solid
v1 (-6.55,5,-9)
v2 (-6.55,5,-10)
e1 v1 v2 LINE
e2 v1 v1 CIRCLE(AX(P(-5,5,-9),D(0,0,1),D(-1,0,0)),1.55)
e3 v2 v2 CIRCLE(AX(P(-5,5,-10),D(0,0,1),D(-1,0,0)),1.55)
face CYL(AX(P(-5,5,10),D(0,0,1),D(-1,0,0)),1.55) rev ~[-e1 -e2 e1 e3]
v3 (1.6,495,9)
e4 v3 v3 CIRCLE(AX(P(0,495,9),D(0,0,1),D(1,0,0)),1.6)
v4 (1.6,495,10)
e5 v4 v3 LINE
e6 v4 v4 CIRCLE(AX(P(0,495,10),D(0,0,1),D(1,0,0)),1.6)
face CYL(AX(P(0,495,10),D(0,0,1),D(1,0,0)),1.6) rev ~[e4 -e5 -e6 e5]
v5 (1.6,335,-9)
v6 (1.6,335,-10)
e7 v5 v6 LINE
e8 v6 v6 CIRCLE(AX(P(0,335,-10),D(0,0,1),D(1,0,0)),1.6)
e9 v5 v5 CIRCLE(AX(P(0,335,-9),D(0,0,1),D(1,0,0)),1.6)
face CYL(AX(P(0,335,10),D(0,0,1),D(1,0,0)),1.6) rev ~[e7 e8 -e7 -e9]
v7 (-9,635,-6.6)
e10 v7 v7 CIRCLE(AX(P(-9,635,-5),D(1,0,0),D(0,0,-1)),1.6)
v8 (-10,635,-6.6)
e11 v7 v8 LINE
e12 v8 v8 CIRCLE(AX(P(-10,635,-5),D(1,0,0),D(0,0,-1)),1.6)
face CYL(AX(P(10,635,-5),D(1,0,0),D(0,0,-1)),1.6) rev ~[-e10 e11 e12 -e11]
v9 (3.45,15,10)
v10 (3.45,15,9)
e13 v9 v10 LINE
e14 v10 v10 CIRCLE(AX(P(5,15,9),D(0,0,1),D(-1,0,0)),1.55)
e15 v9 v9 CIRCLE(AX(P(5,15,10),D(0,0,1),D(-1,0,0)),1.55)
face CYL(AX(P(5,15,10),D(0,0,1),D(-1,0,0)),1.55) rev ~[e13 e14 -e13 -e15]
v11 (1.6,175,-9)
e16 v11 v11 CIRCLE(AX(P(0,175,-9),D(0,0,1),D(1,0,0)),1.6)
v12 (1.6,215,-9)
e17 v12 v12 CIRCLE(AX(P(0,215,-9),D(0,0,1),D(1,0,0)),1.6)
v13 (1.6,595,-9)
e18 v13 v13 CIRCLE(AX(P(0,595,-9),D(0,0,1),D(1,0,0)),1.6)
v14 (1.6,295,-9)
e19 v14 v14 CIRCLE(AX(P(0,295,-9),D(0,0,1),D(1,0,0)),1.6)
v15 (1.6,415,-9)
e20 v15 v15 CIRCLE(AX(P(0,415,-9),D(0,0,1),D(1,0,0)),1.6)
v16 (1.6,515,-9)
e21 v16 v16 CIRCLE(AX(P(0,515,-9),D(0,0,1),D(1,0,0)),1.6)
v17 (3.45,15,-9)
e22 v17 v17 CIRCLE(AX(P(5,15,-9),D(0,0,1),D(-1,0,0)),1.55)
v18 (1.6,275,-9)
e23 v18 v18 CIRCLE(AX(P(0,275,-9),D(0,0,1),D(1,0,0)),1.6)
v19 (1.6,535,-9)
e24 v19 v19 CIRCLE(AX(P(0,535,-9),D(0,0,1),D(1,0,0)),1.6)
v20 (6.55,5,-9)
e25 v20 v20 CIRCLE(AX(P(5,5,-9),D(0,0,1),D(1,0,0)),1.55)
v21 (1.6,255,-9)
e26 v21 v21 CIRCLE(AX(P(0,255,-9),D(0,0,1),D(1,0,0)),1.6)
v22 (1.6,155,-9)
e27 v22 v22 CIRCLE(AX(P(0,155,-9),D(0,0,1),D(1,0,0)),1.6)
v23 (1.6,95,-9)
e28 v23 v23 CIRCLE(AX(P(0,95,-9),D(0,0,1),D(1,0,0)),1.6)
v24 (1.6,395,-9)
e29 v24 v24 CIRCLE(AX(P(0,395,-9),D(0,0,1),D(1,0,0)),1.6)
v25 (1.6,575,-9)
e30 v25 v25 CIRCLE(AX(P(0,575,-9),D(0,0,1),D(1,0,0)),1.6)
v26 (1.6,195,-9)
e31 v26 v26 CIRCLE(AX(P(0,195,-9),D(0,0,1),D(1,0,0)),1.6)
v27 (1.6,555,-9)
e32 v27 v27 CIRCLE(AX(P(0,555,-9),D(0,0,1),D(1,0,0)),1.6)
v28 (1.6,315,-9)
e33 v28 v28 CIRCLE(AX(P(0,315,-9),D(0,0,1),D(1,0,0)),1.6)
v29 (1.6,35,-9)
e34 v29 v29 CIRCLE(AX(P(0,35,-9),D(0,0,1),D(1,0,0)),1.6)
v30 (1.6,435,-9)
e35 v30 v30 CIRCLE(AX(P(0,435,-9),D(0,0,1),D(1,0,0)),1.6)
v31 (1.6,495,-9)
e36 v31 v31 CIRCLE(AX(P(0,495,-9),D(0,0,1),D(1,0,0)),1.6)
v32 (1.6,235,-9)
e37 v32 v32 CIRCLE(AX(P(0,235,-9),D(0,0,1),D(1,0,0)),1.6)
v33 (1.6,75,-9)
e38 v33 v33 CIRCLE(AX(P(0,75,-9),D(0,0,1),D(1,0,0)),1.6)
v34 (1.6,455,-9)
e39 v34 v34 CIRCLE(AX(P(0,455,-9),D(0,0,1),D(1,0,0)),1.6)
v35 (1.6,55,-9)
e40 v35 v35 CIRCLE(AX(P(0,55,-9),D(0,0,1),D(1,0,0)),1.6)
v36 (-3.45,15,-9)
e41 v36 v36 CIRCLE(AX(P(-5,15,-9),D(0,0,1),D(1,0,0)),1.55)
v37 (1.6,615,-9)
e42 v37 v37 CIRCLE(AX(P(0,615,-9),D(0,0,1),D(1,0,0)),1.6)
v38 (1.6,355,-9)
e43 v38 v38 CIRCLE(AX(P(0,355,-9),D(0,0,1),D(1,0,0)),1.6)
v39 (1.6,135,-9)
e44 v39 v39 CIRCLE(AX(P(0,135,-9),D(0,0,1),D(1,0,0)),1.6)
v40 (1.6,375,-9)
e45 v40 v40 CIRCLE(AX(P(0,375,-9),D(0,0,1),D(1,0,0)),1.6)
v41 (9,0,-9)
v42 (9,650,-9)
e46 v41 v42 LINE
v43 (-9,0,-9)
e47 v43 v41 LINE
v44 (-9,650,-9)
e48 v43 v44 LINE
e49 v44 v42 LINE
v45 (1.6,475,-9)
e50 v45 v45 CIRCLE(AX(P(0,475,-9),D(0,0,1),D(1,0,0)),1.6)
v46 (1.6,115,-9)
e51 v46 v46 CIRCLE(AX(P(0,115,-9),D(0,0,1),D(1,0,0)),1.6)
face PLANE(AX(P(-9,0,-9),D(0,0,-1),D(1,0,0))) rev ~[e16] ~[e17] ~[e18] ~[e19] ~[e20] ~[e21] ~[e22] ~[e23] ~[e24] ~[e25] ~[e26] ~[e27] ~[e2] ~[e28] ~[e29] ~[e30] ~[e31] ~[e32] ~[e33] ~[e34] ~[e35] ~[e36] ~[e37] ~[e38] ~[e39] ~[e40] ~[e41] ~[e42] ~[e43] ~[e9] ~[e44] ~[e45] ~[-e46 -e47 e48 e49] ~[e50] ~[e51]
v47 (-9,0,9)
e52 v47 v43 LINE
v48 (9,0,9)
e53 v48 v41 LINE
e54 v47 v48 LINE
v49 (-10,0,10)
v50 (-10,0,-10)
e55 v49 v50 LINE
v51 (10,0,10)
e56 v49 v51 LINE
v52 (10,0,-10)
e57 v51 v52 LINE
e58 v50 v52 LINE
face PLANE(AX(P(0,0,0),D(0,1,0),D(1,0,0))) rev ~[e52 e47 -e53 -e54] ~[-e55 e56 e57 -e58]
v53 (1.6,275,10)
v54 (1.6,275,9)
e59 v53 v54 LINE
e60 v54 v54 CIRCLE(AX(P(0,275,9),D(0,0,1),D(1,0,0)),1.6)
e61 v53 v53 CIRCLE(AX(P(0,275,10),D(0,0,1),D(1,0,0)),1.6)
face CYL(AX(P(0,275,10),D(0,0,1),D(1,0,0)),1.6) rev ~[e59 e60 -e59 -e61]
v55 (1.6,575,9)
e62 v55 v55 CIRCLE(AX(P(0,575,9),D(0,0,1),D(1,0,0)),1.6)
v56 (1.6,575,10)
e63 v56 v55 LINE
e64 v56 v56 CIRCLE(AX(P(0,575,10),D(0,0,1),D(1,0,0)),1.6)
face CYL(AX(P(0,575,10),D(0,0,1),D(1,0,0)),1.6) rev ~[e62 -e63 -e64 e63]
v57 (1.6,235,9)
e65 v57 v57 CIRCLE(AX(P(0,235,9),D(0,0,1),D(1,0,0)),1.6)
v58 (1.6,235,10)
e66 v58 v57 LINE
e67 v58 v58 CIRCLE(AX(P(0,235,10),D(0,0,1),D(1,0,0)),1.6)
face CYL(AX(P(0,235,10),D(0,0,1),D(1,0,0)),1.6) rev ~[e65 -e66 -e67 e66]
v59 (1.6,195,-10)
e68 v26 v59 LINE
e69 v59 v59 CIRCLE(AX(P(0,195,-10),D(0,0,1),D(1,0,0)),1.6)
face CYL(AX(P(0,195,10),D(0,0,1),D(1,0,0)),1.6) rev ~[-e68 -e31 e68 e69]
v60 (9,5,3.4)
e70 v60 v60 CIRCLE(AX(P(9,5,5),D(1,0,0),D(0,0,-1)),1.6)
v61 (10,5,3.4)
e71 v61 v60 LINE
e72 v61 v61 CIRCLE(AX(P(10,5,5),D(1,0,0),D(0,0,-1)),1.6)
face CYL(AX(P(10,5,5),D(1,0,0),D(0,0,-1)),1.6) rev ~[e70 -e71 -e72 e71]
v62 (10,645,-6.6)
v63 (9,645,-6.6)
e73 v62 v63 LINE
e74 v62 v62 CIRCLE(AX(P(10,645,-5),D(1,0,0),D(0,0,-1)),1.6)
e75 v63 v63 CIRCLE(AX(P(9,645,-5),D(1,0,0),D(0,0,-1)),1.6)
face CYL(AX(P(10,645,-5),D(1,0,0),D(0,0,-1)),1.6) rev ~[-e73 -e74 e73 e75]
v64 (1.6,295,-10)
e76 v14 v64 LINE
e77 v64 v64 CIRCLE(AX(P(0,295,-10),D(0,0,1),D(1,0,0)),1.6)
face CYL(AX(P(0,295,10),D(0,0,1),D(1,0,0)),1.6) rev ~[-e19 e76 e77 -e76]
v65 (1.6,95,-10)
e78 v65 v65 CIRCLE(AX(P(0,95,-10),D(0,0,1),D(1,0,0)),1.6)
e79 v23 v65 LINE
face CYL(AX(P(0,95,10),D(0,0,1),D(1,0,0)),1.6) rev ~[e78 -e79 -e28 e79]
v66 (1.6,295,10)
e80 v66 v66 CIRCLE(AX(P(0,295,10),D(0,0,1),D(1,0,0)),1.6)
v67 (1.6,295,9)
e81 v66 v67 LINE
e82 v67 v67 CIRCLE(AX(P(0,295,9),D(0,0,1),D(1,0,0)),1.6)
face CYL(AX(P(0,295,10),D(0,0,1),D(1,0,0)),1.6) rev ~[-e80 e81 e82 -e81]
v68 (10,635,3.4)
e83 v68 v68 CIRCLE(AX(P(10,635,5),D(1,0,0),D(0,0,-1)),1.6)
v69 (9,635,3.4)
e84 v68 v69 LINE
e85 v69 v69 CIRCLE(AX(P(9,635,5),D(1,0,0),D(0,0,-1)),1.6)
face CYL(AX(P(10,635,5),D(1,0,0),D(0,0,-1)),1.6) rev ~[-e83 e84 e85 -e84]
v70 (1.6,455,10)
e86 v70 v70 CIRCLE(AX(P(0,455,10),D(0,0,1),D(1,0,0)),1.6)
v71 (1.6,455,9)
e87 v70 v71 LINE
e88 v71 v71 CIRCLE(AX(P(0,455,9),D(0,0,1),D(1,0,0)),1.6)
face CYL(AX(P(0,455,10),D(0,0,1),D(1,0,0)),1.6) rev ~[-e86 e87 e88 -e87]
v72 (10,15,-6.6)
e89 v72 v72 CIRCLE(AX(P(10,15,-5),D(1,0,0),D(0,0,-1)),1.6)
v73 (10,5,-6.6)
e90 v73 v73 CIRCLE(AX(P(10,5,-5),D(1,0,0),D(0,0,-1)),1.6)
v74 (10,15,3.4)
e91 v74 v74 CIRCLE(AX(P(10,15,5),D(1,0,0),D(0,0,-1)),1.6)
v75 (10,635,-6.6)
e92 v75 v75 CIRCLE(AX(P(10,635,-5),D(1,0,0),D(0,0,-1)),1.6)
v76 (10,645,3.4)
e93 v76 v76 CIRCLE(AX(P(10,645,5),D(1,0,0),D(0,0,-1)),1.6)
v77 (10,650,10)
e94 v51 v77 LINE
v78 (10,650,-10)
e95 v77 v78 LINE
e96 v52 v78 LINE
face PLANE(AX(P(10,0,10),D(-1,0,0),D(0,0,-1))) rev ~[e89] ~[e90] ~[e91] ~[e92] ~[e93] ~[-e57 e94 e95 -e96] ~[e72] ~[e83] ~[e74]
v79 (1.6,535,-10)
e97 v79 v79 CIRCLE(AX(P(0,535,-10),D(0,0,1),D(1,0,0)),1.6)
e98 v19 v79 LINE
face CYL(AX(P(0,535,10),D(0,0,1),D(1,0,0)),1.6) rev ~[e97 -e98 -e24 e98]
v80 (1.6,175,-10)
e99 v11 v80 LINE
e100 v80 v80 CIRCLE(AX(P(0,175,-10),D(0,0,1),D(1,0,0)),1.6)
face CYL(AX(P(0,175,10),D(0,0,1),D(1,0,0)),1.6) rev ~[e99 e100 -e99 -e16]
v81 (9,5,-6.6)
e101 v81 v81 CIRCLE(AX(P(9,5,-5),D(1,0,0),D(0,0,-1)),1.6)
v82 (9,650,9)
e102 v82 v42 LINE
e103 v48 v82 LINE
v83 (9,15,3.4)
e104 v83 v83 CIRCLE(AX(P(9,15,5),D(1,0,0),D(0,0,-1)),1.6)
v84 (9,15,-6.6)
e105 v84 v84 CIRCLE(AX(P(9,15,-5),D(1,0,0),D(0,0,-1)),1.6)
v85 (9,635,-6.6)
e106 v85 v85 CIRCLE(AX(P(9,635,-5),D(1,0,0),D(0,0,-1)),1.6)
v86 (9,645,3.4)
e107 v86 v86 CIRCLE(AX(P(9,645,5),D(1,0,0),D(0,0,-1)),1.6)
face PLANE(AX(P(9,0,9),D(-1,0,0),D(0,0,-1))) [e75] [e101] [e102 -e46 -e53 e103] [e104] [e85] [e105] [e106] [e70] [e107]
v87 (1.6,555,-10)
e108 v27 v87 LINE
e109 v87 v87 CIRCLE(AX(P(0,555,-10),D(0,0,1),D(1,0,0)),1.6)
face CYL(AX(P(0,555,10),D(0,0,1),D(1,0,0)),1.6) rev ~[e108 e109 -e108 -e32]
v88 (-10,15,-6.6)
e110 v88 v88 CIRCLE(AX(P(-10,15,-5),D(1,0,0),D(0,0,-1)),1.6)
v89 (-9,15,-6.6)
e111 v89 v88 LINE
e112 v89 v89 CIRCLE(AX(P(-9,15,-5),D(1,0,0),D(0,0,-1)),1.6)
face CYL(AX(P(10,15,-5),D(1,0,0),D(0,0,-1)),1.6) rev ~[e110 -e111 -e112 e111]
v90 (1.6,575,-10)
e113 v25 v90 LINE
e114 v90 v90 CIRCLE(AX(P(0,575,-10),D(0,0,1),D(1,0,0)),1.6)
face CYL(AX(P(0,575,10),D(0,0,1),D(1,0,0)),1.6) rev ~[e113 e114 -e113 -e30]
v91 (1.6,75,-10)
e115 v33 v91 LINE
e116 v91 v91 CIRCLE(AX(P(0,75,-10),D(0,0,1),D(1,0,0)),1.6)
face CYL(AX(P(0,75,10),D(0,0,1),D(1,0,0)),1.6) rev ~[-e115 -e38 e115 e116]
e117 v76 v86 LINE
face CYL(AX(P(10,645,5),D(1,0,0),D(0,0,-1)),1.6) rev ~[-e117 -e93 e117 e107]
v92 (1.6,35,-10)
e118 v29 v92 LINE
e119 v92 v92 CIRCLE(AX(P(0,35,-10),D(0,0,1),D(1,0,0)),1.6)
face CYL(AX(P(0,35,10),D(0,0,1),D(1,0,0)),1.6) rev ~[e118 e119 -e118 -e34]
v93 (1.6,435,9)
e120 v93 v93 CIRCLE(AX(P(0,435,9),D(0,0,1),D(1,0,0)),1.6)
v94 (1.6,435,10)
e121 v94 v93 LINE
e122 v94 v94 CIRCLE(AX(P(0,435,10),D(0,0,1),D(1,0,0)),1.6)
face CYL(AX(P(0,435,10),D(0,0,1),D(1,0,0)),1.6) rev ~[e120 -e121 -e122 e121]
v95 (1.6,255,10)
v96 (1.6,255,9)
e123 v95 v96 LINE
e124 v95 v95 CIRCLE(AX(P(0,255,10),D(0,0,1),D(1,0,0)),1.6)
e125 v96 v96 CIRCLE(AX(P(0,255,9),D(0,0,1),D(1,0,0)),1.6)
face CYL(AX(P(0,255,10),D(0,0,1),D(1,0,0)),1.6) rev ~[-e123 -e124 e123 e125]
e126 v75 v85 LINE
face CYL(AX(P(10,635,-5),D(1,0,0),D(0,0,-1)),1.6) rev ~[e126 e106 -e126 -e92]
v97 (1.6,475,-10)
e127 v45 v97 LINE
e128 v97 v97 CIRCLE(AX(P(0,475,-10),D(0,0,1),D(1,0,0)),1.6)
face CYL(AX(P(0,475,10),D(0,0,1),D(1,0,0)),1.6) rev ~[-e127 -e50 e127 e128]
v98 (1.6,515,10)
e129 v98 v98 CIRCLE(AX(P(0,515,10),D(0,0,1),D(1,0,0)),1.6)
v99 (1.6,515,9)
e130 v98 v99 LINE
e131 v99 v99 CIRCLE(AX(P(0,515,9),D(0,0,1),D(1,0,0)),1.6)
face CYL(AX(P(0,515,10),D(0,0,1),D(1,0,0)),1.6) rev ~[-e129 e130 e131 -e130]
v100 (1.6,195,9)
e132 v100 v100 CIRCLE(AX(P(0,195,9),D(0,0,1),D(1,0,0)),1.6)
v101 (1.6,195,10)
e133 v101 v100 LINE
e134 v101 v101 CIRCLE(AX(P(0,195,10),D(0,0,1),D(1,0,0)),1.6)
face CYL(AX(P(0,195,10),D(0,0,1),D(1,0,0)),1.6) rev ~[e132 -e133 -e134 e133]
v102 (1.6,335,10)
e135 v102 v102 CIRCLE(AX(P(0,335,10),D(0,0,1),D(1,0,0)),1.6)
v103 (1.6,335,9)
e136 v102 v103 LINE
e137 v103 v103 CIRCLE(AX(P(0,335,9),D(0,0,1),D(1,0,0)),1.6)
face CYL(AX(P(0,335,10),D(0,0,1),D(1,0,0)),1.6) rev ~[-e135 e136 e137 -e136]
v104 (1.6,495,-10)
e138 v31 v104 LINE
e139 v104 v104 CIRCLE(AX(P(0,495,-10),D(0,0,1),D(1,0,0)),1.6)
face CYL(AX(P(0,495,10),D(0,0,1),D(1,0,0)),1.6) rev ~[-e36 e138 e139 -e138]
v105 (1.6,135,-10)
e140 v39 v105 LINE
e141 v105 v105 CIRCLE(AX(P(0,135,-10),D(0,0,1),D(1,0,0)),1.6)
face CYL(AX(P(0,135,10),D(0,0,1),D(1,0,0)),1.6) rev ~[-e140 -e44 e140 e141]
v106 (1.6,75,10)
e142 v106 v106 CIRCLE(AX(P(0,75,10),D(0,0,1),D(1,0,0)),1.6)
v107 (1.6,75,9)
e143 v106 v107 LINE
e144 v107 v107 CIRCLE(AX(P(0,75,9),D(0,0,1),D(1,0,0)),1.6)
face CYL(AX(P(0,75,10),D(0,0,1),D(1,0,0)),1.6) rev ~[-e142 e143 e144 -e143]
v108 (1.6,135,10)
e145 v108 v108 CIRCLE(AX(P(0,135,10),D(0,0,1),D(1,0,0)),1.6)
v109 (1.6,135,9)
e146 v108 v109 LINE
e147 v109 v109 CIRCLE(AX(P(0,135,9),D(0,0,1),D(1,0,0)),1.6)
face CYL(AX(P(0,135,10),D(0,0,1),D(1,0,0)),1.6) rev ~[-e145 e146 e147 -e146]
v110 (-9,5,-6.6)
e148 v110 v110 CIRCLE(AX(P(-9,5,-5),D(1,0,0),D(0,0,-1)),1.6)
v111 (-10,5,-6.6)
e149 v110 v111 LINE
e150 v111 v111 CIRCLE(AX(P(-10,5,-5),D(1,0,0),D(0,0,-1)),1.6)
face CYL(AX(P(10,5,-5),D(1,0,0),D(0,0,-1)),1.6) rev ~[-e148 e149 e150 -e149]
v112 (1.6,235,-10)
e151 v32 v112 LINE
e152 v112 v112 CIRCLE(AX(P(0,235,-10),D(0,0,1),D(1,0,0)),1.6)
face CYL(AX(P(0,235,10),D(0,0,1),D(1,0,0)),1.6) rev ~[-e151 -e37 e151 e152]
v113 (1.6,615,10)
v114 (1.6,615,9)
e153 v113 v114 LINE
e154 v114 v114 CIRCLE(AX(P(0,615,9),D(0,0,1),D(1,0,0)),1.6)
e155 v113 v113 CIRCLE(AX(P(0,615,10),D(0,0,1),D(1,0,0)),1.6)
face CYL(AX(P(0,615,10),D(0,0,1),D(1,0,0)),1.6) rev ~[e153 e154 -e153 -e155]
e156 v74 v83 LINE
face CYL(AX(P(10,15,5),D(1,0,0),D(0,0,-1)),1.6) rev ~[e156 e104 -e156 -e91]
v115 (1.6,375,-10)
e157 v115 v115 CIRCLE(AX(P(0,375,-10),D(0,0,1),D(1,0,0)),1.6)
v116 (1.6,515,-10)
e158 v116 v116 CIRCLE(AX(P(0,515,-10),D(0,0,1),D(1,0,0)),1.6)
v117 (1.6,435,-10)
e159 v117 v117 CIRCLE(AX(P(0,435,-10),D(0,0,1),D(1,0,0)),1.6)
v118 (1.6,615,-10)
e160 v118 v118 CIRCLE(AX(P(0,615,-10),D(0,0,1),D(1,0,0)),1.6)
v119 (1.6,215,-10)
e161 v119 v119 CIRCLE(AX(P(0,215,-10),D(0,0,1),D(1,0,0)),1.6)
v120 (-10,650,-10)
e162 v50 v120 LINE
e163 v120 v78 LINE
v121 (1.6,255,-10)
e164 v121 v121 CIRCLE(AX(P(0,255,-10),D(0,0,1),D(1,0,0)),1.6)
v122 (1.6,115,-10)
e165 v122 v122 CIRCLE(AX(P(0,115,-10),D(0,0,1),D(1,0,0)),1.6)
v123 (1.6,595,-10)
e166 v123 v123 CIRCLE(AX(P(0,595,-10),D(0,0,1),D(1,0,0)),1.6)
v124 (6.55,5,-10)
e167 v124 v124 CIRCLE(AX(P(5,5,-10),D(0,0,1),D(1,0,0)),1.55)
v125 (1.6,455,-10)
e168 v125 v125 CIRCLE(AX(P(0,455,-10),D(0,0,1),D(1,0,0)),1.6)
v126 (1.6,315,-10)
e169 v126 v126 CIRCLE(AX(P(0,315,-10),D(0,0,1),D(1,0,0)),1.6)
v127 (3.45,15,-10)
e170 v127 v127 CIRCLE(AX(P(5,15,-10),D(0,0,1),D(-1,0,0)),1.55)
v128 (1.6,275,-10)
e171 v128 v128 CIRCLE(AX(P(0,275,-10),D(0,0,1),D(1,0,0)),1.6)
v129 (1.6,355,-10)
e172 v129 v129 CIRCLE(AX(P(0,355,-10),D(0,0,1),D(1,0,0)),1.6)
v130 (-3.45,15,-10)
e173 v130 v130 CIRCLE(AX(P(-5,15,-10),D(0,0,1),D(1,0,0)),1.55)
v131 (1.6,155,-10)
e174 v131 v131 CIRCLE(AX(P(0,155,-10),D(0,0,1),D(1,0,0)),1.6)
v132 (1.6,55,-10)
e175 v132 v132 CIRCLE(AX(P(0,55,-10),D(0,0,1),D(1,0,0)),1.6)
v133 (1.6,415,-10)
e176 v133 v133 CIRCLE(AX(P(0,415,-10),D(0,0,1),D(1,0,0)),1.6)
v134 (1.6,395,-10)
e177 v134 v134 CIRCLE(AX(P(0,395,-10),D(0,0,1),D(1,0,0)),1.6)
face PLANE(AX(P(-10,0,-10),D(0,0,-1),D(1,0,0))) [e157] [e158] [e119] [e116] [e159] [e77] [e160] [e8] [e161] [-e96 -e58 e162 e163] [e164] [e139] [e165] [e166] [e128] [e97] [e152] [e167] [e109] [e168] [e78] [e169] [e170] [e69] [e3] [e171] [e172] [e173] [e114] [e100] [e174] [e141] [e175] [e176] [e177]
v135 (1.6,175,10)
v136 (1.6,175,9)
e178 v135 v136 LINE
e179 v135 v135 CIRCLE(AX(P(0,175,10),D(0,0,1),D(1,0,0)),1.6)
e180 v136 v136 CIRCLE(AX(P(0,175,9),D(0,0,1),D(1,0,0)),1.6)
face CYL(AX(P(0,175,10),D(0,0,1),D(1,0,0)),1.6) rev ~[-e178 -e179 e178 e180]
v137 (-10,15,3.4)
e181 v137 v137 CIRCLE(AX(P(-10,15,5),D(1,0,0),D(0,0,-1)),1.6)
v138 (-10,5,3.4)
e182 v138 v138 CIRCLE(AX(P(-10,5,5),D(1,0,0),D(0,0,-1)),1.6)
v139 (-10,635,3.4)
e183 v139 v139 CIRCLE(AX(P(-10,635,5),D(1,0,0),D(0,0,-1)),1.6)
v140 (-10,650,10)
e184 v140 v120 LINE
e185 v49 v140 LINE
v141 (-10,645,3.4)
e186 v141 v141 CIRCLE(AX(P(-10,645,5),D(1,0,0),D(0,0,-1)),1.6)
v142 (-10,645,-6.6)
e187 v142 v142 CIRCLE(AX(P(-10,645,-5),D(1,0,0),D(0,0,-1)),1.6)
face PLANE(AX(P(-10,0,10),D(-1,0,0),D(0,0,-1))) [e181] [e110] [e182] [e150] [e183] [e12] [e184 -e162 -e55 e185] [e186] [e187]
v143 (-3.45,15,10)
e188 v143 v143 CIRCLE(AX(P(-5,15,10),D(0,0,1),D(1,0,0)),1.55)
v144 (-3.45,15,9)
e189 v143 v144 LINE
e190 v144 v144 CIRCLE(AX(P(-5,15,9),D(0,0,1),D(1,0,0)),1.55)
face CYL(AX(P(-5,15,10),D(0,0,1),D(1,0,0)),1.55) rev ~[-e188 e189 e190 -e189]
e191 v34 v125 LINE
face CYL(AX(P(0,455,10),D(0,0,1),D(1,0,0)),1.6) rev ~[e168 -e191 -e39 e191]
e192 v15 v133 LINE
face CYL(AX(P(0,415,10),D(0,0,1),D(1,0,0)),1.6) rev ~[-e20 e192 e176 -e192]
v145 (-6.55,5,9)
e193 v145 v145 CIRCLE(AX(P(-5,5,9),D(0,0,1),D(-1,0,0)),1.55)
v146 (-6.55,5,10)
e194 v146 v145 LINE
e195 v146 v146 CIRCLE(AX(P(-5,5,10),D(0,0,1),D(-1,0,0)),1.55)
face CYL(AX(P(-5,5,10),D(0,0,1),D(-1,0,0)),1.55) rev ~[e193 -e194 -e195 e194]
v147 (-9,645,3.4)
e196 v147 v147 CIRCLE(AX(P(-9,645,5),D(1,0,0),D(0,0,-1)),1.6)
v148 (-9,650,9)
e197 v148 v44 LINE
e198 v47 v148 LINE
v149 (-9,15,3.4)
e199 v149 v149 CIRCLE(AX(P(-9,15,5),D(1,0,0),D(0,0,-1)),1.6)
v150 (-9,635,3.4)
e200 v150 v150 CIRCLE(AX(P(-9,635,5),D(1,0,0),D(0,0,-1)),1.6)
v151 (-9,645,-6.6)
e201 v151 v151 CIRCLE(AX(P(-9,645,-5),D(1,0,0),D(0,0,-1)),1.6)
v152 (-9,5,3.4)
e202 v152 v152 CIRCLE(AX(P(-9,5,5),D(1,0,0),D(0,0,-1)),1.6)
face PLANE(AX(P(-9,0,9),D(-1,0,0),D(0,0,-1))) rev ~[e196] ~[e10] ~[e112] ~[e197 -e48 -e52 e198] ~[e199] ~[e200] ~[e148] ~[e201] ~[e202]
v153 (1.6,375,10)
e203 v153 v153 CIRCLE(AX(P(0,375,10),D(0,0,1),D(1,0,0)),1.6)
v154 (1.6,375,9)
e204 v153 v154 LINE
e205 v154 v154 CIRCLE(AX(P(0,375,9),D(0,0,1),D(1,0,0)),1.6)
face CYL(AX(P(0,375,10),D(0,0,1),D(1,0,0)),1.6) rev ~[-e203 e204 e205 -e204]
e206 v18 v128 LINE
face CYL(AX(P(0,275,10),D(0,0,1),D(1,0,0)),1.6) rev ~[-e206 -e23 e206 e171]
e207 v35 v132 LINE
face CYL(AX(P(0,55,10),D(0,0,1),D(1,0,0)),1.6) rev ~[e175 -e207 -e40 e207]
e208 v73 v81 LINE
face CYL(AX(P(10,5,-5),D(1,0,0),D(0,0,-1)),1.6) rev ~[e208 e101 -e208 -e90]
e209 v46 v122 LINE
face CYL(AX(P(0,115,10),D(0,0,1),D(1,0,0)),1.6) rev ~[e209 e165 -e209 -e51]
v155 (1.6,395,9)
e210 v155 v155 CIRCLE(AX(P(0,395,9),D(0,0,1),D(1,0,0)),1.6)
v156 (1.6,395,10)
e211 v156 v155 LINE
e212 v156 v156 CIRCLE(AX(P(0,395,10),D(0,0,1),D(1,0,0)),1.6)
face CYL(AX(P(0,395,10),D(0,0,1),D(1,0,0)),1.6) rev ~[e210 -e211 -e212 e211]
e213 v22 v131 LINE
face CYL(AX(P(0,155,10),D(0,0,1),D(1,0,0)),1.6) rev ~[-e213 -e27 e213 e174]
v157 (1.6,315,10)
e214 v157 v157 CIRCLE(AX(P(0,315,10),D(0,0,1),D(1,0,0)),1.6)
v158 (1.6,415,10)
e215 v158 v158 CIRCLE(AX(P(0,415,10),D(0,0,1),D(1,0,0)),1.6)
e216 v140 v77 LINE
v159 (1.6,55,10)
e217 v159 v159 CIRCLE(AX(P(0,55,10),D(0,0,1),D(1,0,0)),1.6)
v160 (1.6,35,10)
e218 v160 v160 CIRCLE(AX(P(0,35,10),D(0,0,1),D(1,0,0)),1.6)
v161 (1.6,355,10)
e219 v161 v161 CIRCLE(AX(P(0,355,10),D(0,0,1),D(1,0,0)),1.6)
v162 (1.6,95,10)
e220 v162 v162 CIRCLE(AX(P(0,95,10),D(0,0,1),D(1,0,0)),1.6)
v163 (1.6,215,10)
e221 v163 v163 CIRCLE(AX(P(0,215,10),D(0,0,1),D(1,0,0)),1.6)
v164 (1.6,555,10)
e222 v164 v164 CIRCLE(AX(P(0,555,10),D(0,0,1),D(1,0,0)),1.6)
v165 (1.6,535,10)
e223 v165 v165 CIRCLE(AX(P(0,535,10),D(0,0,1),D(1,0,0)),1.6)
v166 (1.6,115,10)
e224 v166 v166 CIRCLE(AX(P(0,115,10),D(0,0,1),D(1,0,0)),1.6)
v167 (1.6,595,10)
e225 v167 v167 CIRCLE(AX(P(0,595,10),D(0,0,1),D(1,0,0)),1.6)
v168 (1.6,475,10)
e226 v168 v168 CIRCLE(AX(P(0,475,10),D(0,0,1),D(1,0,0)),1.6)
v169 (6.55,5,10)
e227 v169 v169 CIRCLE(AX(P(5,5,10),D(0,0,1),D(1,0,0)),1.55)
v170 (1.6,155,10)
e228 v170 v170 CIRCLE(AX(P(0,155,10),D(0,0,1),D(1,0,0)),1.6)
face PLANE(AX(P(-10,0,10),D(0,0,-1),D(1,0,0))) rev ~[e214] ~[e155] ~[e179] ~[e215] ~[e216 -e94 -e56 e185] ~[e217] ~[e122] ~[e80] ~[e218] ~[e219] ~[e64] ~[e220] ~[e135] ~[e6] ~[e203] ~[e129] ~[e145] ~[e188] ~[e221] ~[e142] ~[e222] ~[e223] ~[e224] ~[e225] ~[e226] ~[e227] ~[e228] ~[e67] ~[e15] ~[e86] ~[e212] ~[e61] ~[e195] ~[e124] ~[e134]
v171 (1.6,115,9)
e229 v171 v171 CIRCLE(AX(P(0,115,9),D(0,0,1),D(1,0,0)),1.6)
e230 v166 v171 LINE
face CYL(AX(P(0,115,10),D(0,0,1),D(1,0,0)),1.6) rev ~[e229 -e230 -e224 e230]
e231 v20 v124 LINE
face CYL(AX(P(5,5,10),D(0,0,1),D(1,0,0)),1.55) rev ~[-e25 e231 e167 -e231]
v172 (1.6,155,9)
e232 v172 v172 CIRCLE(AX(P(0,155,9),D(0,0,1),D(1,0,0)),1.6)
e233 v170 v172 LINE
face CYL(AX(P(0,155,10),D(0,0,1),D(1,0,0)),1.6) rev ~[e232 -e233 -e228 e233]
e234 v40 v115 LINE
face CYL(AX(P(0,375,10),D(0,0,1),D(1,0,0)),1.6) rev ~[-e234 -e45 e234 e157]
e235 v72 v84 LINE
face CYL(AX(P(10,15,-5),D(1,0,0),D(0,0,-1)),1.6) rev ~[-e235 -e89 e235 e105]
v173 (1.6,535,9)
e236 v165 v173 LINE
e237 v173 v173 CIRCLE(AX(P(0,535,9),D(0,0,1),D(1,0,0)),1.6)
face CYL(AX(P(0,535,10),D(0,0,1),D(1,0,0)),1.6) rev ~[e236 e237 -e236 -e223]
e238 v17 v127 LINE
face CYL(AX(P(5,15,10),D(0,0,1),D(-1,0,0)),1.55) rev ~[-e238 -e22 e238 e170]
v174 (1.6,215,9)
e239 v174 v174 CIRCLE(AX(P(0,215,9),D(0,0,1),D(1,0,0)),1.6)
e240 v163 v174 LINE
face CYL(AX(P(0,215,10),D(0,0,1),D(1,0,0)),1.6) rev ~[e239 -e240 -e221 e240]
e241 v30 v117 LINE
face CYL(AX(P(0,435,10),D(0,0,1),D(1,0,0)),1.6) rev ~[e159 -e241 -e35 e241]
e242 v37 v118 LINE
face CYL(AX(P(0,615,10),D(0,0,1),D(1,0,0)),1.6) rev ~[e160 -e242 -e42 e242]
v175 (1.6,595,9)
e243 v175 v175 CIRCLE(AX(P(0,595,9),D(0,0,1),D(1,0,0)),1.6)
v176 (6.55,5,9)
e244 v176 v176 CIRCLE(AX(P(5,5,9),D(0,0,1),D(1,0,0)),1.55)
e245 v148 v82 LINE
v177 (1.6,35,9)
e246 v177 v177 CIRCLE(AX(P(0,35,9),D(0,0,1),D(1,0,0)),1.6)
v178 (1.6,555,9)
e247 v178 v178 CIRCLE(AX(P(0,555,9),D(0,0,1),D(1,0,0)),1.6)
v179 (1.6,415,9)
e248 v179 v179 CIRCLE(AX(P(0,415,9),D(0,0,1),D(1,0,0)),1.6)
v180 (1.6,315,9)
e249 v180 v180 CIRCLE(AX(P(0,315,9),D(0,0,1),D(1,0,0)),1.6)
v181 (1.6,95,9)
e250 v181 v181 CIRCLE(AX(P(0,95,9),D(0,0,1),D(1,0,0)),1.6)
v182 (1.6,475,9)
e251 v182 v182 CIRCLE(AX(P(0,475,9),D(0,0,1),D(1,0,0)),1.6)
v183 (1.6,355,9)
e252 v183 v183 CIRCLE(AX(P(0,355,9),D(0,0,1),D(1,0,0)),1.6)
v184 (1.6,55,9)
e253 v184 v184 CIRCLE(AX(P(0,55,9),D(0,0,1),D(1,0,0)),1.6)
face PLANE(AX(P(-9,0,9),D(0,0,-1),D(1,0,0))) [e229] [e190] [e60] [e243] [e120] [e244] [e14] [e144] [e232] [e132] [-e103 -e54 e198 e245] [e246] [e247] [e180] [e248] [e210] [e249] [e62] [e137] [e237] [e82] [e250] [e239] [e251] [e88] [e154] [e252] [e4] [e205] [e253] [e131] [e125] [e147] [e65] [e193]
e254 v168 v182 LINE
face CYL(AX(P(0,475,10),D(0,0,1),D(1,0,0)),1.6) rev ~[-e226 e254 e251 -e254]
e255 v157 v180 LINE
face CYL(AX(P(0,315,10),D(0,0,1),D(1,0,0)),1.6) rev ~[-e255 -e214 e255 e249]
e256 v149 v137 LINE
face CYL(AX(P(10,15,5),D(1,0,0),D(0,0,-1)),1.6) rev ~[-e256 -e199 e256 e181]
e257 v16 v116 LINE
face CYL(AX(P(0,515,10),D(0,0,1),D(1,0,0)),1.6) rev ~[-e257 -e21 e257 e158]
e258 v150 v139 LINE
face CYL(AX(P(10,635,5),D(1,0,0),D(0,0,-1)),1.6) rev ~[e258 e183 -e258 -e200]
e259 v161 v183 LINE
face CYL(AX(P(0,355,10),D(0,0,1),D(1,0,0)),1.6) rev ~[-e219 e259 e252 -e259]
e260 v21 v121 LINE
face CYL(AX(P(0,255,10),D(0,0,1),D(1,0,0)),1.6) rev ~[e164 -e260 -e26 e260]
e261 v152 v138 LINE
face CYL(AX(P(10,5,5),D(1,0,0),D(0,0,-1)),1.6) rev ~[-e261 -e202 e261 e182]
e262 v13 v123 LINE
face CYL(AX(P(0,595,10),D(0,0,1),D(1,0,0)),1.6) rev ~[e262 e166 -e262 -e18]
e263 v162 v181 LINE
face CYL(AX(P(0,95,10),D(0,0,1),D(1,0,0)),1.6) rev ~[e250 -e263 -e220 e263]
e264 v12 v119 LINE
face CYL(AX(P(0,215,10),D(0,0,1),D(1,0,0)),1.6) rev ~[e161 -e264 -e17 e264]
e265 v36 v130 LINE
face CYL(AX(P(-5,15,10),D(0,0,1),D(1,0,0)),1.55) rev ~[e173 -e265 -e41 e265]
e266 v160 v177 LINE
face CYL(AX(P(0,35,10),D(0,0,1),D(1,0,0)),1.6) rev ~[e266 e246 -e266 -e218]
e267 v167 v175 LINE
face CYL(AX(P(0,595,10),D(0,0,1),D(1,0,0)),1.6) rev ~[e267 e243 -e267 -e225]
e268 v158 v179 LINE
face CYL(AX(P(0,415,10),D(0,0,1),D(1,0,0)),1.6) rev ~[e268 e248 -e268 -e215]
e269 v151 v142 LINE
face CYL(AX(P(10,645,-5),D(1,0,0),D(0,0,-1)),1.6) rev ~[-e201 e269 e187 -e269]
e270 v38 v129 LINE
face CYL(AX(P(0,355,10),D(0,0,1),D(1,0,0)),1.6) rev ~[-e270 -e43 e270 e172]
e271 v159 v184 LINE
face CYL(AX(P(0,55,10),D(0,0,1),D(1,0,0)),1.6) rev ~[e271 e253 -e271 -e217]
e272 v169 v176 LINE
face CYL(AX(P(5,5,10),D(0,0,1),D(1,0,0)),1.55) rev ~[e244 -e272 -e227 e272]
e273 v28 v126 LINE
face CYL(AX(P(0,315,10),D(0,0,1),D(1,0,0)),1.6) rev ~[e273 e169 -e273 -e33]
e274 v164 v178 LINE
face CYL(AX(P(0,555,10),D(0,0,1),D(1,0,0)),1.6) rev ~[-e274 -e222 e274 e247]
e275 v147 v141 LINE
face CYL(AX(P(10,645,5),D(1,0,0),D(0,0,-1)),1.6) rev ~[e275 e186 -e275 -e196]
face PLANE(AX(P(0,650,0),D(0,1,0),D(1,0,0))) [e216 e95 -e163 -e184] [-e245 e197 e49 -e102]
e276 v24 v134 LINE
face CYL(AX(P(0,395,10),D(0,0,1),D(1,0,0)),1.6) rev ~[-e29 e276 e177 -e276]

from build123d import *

# Parameters (mm, degrees)
SKETCH_1_W          = 20
SKETCH_1_H          = 20
SKETCH_1_W_2        = 18
SKETCH_1_H_2        = 18
EXTRUDE_1_DEPTH     = 650
SKETCH_3_R          = 1.6
CUT_EXTRUDE_1_DEPTH = 651.38450166
SKETCH_4_R          = 1.6
CUT_EXTRUDE_2_DEPTH = 651.38450166
SKETCH_5_R          = 1.55
CUT_EXTRUDE_3_DEPTH = 651.38450166


with BuildPart() as part:
    # 草图1 → 拉伸-薄壁1 (new body)
    with BuildSketch(Plane(origin=(0, 0, 0), x_dir=(1, 0, 0), z_dir=(0, 1, 0))):
        Rectangle(SKETCH_1_W, SKETCH_1_H)
        Rectangle(SKETCH_1_W_2, SKETCH_1_H_2, mode=Mode.SUBTRACT)
    extrude(amount=EXTRUDE_1_DEPTH)

    # 草图3 → 切除-拉伸1 (cut, through all)
    with BuildSketch(Plane(origin=(10, 0, 0), x_dir=(0, 0, -1), z_dir=(1, 0, 0))):
        with Locations((-5, 15)):
            Circle(SKETCH_3_R)
        with Locations((-5, 5)):
            Circle(SKETCH_3_R)
        with Locations((5, 5)):
            Circle(SKETCH_3_R)
        with Locations((5, 15)):
            Circle(SKETCH_3_R)
        with Locations((5, 635)):
            Circle(SKETCH_3_R)
        with Locations((5, 645)):
            Circle(SKETCH_3_R)
        with Locations((-5, 645)):
            Circle(SKETCH_3_R)
        with Locations((-5, 635)):
            Circle(SKETCH_3_R)
    extrude(amount=-CUT_EXTRUDE_1_DEPTH, mode=Mode.SUBTRACT)

    # 草图4 → 切除-拉伸2 (cut, through all)
    with BuildSketch(Plane.XY.offset(10)):
        with Locations((0, 35)):
            Circle(SKETCH_4_R)
        with Locations((0, 55)):
            Circle(SKETCH_4_R)
        with Locations((0, 75)):
            Circle(SKETCH_4_R)
        with Locations((0, 95)):
            Circle(SKETCH_4_R)
        with Locations((0, 115)):
            Circle(SKETCH_4_R)
        with Locations((0, 135)):
            Circle(SKETCH_4_R)
        with Locations((0, 155)):
            Circle(SKETCH_4_R)
        with Locations((0, 175)):
            Circle(SKETCH_4_R)
        with Locations((0, 195)):
            Circle(SKETCH_4_R)
        with Locations((0, 215)):
            Circle(SKETCH_4_R)
        with Locations((0, 235)):
            Circle(SKETCH_4_R)
        with Locations((0, 255)):
            Circle(SKETCH_4_R)
        with Locations((0, 275)):
            Circle(SKETCH_4_R)
        with Locations((0, 295)):
            Circle(SKETCH_4_R)
        with Locations((0, 315)):
            Circle(SKETCH_4_R)
        with Locations((0, 335)):
            Circle(SKETCH_4_R)
        with Locations((0, 355)):
            Circle(SKETCH_4_R)
        with Locations((0, 375)):
            Circle(SKETCH_4_R)
        with Locations((0, 395)):
            Circle(SKETCH_4_R)
        with Locations((0, 415)):
            Circle(SKETCH_4_R)
        with Locations((0, 435)):
            Circle(SKETCH_4_R)
        with Locations((0, 455)):
            Circle(SKETCH_4_R)
        with Locations((0, 475)):
            Circle(SKETCH_4_R)
        with Locations((0, 495)):
            Circle(SKETCH_4_R)
        with Locations((0, 515)):
            Circle(SKETCH_4_R)
        with Locations((0, 535)):
            Circle(SKETCH_4_R)
        with Locations((0, 555)):
            Circle(SKETCH_4_R)
        with Locations((0, 575)):
            Circle(SKETCH_4_R)
        with Locations((0, 595)):
            Circle(SKETCH_4_R)
        with Locations((0, 615)):
            Circle(SKETCH_4_R)
    extrude(amount=-CUT_EXTRUDE_2_DEPTH, mode=Mode.SUBTRACT)

    # 草图5 → 切除-拉伸3 (cut, through all)
    with BuildSketch(Plane.XY.offset(10)):
        with Locations((-5, 15)):
            Circle(SKETCH_5_R)
        with Locations(Location((-5, 5, 0), (0, 0, 180))):
            Circle(SKETCH_5_R)
        with Locations((5, 5)):
            Circle(SKETCH_5_R)
        with Locations(Location((5, 15, 0), (0, 0, 180))):
            Circle(SKETCH_5_R)
    extrude(amount=-CUT_EXTRUDE_3_DEPTH, mode=Mode.SUBTRACT)


solid = part.part
